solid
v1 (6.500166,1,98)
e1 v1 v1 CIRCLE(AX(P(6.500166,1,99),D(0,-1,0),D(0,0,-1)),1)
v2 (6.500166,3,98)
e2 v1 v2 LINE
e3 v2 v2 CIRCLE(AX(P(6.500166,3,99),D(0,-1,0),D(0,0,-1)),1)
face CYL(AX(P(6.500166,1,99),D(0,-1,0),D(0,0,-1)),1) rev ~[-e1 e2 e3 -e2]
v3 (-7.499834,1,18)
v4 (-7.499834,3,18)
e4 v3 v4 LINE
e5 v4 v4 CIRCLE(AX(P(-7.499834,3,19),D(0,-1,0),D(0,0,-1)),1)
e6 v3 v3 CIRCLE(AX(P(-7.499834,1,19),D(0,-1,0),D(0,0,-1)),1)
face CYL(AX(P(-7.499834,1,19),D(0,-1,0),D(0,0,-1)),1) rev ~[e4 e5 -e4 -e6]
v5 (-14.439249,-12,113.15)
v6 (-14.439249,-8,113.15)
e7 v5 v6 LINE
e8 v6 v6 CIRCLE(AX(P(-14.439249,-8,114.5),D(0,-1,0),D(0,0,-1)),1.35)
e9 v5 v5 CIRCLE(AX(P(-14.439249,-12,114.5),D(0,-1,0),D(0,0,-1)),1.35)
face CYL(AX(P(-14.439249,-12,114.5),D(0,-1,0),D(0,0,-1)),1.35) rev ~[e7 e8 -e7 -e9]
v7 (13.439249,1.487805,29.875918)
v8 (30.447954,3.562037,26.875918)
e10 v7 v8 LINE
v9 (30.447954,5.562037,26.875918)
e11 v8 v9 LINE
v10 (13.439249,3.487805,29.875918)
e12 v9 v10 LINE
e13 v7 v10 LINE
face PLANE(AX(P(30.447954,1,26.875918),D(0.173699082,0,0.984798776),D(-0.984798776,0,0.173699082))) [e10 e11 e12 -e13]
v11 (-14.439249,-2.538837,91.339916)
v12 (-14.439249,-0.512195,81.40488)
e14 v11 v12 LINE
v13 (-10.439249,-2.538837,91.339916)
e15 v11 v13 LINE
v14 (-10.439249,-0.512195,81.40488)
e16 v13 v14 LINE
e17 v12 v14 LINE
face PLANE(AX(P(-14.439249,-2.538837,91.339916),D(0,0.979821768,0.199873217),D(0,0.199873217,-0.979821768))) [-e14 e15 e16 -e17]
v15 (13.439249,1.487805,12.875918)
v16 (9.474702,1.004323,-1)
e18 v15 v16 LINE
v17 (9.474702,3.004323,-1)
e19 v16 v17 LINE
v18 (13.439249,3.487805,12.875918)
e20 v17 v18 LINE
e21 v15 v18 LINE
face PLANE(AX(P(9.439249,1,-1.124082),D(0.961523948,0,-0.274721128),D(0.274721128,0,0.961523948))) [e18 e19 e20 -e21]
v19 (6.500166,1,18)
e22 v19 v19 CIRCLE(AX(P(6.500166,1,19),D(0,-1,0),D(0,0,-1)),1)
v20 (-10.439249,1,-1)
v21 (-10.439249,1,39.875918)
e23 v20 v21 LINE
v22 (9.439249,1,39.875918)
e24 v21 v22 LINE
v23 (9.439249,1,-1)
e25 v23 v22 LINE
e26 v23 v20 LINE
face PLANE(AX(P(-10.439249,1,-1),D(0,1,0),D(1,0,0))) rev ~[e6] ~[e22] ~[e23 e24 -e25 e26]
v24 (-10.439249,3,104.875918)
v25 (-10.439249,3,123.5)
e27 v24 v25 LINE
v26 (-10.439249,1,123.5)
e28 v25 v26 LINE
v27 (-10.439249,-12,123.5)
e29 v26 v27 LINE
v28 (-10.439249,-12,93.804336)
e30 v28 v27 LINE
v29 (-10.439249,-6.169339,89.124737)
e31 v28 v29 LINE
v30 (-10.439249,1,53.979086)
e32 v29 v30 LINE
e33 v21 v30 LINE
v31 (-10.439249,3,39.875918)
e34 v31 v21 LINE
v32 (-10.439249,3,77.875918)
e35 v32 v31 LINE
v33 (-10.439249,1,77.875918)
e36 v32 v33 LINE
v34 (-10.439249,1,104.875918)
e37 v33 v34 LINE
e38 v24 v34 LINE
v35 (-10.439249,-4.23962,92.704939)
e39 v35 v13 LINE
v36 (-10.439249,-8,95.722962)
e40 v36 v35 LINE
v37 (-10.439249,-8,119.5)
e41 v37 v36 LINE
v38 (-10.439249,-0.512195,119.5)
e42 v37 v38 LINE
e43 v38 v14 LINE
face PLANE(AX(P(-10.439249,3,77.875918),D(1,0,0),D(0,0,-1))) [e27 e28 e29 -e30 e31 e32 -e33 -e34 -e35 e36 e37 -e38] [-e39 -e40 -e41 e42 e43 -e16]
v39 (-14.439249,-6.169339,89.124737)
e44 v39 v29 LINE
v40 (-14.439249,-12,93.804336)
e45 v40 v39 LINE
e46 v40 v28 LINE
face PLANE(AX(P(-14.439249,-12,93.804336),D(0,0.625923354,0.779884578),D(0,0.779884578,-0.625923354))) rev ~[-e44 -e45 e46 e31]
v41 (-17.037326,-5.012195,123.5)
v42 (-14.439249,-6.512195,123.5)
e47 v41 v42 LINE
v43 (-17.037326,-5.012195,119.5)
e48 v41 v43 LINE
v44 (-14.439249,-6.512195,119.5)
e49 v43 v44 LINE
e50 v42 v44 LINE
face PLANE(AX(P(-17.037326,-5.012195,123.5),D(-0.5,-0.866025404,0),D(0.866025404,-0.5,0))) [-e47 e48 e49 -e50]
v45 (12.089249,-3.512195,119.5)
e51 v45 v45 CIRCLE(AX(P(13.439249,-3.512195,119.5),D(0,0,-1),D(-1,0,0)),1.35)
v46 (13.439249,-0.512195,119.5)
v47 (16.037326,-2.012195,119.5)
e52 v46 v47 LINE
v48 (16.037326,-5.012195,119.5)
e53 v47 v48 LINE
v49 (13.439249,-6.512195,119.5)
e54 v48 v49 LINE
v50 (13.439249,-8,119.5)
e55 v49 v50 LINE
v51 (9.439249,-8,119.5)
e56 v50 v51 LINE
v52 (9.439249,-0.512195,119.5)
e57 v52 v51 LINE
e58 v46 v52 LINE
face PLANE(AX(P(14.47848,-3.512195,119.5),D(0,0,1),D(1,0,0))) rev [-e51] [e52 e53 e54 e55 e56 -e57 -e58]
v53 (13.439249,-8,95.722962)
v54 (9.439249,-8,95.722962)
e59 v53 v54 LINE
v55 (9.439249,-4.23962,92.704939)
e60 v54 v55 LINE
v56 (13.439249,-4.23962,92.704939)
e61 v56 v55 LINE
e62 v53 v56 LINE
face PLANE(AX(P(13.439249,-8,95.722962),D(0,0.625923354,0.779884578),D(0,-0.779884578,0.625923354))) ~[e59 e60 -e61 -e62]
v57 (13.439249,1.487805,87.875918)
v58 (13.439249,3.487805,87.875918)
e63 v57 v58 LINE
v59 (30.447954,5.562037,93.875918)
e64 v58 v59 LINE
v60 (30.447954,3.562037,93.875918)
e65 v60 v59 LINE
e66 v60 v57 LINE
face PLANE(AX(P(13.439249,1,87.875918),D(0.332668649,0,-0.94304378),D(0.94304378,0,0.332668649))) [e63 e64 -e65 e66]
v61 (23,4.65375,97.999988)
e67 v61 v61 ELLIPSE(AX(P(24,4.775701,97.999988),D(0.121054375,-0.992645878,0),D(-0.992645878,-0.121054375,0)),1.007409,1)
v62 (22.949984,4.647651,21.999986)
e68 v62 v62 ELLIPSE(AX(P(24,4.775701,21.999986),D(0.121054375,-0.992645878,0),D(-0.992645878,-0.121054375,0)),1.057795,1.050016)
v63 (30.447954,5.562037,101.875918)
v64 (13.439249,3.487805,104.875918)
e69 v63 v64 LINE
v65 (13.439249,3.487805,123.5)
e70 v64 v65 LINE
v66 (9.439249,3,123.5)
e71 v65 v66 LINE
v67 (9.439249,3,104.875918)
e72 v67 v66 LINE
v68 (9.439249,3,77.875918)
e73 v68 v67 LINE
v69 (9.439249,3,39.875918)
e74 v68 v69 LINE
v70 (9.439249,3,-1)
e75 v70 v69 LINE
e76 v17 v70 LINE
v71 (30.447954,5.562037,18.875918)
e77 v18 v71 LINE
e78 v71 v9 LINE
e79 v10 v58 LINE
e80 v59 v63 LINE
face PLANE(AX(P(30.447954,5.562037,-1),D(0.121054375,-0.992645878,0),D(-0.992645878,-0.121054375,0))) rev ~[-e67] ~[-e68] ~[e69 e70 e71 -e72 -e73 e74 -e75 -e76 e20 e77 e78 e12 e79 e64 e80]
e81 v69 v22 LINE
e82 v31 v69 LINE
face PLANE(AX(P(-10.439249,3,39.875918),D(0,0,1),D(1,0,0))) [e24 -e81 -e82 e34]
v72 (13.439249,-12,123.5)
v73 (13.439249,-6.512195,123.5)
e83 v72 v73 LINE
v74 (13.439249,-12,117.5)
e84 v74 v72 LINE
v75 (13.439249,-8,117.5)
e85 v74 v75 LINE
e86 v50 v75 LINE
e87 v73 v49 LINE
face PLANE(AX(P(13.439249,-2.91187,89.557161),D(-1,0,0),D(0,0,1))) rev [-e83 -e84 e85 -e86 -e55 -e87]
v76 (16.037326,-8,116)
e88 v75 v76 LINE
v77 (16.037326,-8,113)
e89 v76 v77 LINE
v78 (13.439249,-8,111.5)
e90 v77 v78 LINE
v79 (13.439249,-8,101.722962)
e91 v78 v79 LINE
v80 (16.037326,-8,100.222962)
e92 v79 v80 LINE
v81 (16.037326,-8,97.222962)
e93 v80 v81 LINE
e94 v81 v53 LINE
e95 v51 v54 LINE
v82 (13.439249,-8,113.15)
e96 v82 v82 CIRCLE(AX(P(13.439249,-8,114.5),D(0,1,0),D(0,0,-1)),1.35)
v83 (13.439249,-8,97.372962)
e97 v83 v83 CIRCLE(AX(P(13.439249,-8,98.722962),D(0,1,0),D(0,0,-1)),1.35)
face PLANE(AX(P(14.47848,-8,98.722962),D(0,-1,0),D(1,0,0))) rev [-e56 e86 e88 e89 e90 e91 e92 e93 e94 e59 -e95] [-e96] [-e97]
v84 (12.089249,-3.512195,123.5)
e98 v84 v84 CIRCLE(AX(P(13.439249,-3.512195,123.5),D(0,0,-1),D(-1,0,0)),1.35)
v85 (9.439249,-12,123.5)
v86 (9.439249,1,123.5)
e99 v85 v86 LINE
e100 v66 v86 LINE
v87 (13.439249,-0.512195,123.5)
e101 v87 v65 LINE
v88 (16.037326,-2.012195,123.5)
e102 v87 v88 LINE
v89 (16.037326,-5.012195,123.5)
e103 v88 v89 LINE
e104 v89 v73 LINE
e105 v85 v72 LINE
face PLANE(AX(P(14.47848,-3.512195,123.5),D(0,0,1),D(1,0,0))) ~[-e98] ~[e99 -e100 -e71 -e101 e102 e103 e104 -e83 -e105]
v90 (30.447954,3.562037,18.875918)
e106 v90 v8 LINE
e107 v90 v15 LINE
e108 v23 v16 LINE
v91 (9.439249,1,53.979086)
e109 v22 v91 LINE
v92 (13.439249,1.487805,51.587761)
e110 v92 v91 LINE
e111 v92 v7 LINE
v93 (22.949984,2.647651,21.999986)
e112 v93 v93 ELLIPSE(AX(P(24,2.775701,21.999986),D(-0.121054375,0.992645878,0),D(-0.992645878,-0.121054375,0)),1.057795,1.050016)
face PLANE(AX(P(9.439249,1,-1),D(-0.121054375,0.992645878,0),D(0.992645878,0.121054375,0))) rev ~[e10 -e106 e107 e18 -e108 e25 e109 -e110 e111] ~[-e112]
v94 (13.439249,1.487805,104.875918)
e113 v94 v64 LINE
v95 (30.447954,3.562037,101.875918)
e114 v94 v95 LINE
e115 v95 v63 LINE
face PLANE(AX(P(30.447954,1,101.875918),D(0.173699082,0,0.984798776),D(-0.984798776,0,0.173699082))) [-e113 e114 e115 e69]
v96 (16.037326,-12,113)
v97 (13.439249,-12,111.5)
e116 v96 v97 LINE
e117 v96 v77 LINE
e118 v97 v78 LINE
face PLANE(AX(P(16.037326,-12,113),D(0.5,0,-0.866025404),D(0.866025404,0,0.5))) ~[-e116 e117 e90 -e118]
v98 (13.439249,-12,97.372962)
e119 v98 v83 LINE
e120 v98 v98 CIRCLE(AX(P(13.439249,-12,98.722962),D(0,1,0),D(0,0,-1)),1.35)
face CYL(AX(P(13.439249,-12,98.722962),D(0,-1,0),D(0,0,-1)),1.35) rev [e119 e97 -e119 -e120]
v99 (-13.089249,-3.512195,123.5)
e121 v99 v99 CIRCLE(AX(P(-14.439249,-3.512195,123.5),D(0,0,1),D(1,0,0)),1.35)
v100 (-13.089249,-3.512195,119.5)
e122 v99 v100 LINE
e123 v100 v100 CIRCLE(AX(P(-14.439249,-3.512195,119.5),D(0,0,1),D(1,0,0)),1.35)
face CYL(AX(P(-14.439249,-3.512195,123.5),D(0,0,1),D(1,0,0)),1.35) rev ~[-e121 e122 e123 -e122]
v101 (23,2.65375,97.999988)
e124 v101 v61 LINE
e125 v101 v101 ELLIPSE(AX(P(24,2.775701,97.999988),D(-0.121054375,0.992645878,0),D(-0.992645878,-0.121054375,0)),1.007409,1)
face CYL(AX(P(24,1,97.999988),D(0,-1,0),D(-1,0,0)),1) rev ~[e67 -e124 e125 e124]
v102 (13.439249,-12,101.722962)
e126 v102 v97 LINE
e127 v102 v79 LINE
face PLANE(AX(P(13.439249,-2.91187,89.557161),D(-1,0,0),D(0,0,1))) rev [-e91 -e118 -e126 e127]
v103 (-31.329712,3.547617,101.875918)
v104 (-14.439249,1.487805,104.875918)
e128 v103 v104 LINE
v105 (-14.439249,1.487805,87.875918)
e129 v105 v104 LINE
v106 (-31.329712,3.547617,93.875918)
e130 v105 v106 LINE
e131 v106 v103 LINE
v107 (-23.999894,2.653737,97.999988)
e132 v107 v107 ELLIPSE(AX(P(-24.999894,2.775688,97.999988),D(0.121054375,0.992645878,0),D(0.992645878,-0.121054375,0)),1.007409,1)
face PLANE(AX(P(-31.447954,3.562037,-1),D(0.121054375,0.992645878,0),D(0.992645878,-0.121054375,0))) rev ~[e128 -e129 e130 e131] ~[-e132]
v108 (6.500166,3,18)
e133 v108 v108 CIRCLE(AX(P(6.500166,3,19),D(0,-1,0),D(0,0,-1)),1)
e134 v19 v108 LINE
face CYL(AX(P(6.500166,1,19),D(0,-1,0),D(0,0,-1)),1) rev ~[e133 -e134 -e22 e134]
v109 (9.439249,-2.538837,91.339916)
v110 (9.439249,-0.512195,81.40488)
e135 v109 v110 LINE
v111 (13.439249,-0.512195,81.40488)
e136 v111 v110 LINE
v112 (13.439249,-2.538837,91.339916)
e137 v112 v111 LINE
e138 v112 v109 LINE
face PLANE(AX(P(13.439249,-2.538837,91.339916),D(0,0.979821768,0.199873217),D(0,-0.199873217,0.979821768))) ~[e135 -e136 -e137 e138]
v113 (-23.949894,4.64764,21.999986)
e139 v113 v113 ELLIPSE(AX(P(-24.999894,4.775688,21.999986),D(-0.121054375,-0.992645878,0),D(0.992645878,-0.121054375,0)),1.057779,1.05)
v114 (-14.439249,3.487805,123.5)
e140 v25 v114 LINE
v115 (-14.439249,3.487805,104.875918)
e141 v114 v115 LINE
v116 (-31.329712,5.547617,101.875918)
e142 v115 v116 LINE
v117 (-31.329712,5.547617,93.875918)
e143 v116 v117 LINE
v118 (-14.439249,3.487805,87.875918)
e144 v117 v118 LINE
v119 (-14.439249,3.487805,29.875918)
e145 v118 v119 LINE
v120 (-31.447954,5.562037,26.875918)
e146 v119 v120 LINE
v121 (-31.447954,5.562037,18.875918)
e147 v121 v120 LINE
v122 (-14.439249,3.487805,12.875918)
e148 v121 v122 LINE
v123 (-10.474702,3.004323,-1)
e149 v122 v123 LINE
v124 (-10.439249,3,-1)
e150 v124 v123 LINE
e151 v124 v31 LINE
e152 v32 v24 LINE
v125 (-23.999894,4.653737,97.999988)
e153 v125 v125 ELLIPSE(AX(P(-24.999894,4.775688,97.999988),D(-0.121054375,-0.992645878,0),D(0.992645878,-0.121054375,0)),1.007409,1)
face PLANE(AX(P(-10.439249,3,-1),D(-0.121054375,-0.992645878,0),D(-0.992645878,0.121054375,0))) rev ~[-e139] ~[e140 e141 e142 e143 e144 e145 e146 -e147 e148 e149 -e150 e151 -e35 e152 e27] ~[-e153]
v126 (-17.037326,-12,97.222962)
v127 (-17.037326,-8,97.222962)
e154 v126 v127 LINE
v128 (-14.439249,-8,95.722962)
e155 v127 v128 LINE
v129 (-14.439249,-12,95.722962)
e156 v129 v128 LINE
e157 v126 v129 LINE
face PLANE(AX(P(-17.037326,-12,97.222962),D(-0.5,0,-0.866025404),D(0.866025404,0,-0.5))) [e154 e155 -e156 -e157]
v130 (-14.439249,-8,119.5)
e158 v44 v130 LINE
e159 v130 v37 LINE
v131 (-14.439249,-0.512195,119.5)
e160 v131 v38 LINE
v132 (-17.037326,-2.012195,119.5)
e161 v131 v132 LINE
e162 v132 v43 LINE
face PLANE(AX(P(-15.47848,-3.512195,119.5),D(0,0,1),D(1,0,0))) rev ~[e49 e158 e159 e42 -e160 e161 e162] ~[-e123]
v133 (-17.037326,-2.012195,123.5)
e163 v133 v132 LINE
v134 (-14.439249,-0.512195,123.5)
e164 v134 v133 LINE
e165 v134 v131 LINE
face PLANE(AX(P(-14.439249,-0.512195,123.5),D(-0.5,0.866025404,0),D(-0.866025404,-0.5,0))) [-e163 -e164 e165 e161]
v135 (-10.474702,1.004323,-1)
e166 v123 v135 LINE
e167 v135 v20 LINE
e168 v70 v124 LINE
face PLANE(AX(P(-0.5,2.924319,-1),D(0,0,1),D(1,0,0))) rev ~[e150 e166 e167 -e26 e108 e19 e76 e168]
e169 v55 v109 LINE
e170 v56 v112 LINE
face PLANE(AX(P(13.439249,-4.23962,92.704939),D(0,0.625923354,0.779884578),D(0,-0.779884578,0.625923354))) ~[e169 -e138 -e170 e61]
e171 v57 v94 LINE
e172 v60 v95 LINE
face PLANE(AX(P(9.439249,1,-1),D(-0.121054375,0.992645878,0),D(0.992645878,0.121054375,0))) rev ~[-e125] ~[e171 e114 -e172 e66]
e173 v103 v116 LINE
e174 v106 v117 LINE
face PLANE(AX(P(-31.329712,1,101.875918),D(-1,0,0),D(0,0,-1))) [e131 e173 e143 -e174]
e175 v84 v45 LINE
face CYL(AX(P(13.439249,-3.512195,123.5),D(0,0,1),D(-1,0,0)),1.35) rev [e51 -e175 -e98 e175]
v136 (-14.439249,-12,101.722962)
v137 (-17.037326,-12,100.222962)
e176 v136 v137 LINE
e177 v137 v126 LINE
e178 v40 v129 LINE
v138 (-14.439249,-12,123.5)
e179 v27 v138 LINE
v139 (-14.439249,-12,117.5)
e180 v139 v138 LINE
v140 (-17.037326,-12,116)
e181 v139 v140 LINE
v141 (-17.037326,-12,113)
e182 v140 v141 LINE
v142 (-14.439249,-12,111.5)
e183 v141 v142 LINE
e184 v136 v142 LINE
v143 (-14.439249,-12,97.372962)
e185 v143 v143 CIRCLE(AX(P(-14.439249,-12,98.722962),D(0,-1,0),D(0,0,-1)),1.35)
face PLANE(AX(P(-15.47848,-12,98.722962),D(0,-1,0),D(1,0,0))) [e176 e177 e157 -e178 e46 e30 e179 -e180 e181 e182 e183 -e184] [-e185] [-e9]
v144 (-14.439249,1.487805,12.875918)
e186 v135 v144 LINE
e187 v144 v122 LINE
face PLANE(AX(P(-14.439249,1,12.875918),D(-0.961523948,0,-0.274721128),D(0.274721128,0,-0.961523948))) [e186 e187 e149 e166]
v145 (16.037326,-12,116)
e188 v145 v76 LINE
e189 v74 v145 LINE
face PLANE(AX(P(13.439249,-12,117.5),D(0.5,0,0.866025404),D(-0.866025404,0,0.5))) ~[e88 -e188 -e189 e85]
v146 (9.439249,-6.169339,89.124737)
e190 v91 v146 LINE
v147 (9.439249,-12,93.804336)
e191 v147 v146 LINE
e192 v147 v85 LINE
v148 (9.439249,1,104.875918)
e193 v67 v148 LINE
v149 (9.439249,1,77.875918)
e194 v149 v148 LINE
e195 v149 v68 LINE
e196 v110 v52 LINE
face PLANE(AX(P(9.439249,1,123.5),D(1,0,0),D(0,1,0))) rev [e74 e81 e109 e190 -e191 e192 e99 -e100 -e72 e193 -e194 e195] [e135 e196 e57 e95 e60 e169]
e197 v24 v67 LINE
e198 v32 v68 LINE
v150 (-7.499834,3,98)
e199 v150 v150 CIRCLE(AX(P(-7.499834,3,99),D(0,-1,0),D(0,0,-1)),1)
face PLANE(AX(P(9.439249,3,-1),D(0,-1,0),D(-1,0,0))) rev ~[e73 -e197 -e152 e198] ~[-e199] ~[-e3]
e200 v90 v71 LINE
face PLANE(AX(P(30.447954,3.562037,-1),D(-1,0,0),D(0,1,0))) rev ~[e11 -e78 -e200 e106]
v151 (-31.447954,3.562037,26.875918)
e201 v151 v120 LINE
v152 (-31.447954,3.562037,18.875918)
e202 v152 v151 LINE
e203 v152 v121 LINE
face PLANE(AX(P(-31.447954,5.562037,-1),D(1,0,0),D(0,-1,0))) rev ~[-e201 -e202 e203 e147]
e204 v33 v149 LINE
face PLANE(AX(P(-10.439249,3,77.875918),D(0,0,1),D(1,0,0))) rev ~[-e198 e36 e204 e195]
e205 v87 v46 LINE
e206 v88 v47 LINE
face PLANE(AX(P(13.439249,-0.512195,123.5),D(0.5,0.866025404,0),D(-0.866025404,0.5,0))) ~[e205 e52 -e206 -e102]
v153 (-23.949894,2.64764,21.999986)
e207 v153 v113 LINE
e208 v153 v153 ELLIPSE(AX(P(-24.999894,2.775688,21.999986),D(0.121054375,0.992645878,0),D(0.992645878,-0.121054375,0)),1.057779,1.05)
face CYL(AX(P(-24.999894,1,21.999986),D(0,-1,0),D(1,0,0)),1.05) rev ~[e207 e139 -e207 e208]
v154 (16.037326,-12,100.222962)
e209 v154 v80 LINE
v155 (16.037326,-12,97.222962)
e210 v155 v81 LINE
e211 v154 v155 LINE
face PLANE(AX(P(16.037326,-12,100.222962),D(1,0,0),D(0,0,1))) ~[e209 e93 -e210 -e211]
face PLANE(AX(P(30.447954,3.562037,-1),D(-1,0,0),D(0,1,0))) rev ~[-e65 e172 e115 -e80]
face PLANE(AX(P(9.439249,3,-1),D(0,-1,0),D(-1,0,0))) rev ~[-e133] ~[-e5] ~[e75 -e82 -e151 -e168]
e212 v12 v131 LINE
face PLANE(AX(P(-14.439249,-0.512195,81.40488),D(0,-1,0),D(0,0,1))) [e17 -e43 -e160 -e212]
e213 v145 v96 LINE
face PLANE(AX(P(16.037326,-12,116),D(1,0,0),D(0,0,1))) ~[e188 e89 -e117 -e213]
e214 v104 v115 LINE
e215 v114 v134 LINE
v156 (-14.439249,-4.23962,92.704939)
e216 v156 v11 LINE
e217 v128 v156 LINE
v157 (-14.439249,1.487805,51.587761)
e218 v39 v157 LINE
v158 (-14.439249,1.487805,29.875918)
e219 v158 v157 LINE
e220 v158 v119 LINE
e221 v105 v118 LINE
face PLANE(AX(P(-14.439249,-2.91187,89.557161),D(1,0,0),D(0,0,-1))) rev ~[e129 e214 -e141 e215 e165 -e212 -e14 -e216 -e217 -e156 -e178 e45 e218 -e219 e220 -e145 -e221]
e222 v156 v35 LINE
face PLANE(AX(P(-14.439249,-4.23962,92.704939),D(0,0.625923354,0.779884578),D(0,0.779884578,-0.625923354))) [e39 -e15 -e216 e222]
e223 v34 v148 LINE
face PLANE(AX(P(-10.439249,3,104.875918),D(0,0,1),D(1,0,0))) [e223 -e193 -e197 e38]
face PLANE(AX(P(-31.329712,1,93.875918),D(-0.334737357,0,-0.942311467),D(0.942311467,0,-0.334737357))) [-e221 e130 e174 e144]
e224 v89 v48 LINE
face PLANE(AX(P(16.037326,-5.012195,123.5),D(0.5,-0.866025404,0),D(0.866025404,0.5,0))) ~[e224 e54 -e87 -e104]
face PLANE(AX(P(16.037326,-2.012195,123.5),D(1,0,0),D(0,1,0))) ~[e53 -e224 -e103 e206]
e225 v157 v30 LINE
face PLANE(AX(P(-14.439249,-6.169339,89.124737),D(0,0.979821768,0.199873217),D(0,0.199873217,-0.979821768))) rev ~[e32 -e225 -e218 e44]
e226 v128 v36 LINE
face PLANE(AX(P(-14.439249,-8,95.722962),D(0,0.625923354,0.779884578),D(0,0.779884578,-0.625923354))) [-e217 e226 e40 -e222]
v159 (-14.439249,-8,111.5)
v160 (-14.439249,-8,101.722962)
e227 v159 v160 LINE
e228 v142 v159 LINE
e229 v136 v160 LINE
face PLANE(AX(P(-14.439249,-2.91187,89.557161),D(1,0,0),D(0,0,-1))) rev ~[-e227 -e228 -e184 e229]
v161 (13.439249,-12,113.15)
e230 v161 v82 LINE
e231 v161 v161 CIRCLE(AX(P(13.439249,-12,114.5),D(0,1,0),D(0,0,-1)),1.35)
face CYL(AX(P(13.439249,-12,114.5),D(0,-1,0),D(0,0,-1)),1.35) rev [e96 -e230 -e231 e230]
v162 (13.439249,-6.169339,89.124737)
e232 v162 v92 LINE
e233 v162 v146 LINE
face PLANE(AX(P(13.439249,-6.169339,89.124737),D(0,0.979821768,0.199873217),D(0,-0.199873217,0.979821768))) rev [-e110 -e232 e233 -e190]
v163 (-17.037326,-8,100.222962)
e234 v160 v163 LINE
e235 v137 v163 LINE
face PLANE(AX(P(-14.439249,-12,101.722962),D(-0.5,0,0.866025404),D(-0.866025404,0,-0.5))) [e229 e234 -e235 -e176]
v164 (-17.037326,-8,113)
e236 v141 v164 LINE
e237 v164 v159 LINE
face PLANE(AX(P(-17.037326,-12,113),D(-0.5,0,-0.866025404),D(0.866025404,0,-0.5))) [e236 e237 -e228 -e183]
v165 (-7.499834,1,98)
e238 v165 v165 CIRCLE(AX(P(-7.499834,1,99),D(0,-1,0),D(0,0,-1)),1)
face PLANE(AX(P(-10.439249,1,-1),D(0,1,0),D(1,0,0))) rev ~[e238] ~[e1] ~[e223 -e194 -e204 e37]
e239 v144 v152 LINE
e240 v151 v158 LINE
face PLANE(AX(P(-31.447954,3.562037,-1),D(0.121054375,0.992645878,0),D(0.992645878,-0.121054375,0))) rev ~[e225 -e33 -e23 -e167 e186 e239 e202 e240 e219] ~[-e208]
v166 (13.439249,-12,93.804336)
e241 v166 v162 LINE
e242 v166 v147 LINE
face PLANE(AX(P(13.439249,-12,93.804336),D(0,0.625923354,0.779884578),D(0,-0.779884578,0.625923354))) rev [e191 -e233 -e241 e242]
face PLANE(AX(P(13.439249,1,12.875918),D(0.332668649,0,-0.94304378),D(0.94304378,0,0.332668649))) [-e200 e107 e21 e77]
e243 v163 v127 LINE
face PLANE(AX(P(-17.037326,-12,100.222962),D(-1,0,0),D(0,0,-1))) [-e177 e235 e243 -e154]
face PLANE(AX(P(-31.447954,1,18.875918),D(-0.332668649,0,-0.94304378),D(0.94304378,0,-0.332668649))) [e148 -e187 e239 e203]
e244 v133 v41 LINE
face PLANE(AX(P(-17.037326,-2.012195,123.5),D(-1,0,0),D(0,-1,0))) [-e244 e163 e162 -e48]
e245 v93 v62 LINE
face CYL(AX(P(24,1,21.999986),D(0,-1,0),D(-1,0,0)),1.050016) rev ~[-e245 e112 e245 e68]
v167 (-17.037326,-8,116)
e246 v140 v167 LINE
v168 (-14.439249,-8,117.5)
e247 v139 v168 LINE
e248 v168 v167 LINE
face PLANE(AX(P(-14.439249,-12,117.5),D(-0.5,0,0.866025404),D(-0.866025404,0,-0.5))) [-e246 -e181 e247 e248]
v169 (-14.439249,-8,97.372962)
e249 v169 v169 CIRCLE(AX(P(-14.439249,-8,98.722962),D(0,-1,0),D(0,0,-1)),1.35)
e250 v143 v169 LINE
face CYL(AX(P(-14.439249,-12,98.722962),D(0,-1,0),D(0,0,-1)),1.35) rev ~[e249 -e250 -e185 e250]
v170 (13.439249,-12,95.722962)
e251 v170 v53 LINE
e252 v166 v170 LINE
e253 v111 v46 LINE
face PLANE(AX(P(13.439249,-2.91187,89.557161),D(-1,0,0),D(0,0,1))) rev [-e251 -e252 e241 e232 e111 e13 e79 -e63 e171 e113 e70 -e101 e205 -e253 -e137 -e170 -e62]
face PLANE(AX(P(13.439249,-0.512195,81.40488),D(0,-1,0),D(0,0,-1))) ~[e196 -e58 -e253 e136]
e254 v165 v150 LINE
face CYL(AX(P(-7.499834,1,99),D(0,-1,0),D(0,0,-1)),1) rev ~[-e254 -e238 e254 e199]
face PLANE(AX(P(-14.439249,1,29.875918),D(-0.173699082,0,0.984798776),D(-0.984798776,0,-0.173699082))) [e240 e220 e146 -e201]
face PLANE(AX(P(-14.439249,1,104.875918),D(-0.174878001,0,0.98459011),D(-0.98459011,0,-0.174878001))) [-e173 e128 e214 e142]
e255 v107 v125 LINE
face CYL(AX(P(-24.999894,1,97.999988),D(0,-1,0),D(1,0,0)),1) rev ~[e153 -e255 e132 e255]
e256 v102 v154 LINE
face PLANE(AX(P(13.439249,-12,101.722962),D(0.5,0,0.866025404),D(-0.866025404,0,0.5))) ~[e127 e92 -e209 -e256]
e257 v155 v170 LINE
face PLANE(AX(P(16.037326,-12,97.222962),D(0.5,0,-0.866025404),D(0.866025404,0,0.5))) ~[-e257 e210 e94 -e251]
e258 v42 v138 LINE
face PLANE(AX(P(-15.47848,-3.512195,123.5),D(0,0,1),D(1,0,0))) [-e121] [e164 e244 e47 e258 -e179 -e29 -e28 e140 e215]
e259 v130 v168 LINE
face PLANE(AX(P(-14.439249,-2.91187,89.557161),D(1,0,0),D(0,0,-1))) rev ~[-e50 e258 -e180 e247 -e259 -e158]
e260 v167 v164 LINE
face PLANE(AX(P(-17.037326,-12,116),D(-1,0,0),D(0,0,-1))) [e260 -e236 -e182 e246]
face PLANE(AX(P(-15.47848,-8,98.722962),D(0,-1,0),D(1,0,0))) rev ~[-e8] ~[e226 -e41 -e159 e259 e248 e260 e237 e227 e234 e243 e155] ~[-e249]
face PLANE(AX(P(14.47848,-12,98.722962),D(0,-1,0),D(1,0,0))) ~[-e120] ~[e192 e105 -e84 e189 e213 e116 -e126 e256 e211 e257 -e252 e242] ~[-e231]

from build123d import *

# Parameters (mm, degrees)
SKETCH_1_W          = 2
SKETCH_1_H          = 2
EXTRUDE_1_DEPTH     = 3
EXTRUDE_2_DEPTH     = 124.5
SKETCH_3_W          = 6.103798984
SKETCH_3_H          = 7.216344691
CUT_EXTRUDE_1_DEPTH = 100
SKETCH_4_R          = 1
SKETCH_4_R_2        = 1.050016024
SKETCH_4_R_3        = 1.05
CUT_EXTRUDE_2_DEPTH = 100
SKETCH_6_W          = 76.933972046
SKETCH_6_H          = 147.245046369
CUT_EXTRUDE_3_DEPTH = 100
EXTRUDE_3_DEPTH     = 2
EXTRUDE_4_DEPTH     = 4
SKETCH_9_W          = 19.878498858
SKETCH_9_H          = 18.624082489
CUT_EXTRUDE_4_DEPTH = 4
SKETCH_10_W         = 19.878498858
SKETCH_10_H         = 38
CUT_EXTRUDE_5_DEPTH = 4
EXTRUDE_6_DEPTH     = 4
EXTRUDE_7_DEPTH     = 4
SKETCH_14_R         = 1.35
CUT_EXTRUDE_7_DEPTH = 4
SKETCH_15_R         = 1.35
CUT_EXTRUDE_8_DEPTH = 4


with BuildPart() as part:
    # 草图1 → 凸台-拉伸1 (new body)
    with BuildSketch(Plane(origin=(0, 0, 0), x_dir=(1, 0, 0), z_dir=(0, 1, 0))):
        Rectangle(SKETCH_1_W, SKETCH_1_H)
    extrude(amount=EXTRUDE_1_DEPTH)

    # 草图2 → 凸台-拉伸2 (add)
    with BuildSketch(Plane(origin=(0, 0, -1), x_dir=(-1, 0, 0), z_dir=(0, 0, -1))):
        Polygon((-9.439249429, 3), (10.439249429, 3), (31.447953726, 5.562037109), (31.447953726, 3.562037109), (10.439249429, 1), (-9.439249429, 1), (-30.447953726, 3.562037109), (-30.447953726, 5.562037109), align=None)
    extrude(amount=-EXTRUDE_2_DEPTH)

    # 草图3 → 切除-拉伸1 (cut)
    with BuildSketch(Plane.XZ.offset(-1)):
        with Locations((-0.416327581, 1.421882079)):
            Rectangle(SKETCH_3_W, SKETCH_3_H)
    extrude(amount=CUT_EXTRUDE_1_DEPTH, mode=Mode.SUBTRACT)

    # 草图4 → 切除-拉伸2 (cut)
    with BuildSketch(Plane.XZ.offset(-1)):
        with Locations(Location((24, 97.999988001, 0), (0, 0, 180))):
            Circle(SKETCH_4_R)
        with Locations(Location((6.500166, 99, 0), (0, 0, 270))):
            Circle(SKETCH_4_R)
        with Locations(Location((-7.499834, 99, 0), (0, 0, 270))):
            Circle(SKETCH_4_R)
        with Locations((-24.999894002, 97.999988001)):
            Circle(SKETCH_4_R)
        with Locations(Location((6.500166, 19, 0), (0, 0, 270))):
            Circle(SKETCH_4_R)
        with Locations(Location((-7.499834, 19, 0), (0, 0, 270))):
            Circle(SKETCH_4_R)
        with Locations(Location((24, 21.999986001, 0), (0, 0, 180))):
            Circle(SKETCH_4_R_2)
        with Locations((-24.999894002, 21.999986001)):
            Circle(SKETCH_4_R_3)
    extrude(amount=-CUT_EXTRUDE_2_DEPTH, mode=Mode.SUBTRACT)

    # 草图6 → 切除-拉伸3 (cut)
    with BuildSketch(Plane.XZ.offset(-1)):
        with Locations((-0.585190424, 56.41539679)):
            Rectangle(SKETCH_6_W, SKETCH_6_H)
        Polygon((-31.447953726, 18.875917511), (-14.439249429, 12.875917511), (-10.439249429, -1.124082489), (9.439249429, -1.124082489), (13.439249429, 12.875917511), (30.447953726, 18.875917511), (30.447953726, 26.875917511), (13.439249429, 29.875917511), (13.439249429, 87.875917511), (30.447953726, 93.875917511), (30.447953726, 101.875917511), (13.439249429, 104.875917511), (13.439249429, 123.5), (-14.439249429, 123.5), (-14.439249429, 104.875917511), (-31.329711994, 101.875917511), (-31.329711994, 93.875917511), (-14.439249429, 87.875917511), (-14.439249429, 29.875917511), (-31.447953726, 26.875917511), align=None, mode=Mode.SUBTRACT)
    extrude(amount=-CUT_EXTRUDE_3_DEPTH, mode=Mode.SUBTRACT)

    # 草图7 → 凸台-拉伸3 (add)
    with BuildSketch(Plane.XY.offset(123.5)):
        Polygon((-14.439249429, 1.487804878), (-10.439249429, 1), (-10.439249429, -12), (-14.439249429, -12), (-14.439249429, 1), align=None)
    extrude_3 = extrude(amount=-EXTRUDE_3_DEPTH)

    # 草图8 → 凸台-拉伸4 (add)
    with BuildSketch(Plane.ZY.offset(14.439249429)):
        Polygon((51.587761239, 1.487804878), (121.5, 1.487804878), (121.5, -12), (93.804336039, -12), (89.124737206, -6.169338891), align=None)
        Polygon((81.404880427, -0.512195122), (119.5, -0.512195122), (119.5, -8), (106.737581435, -8), (95.722961725, -8), (92.704938742, -4.239620134), (91.339916161, -2.53883672), align=None, mode=Mode.SUBTRACT)
    extrude_4 = extrude(amount=-EXTRUDE_4_DEPTH)

    # 草图9 → 切除-拉伸4 (cut)
    with BuildSketch(Plane(origin=(0, 3, 0), x_dir=(1, 0, 0), z_dir=(0, 1, 0))):
        with Locations((-0.5, -114.187958756)):
            Rectangle(SKETCH_9_W, SKETCH_9_H)
    cut_extrude_4 = extrude(amount=-CUT_EXTRUDE_4_DEPTH, mode=Mode.SUBTRACT)

    # 草图10 → 切除-拉伸5 (cut)
    with BuildSketch(Plane(origin=(0, 3, 0), x_dir=(1, 0, 0), z_dir=(0, 1, 0))):
        with Locations((-0.5, -58.875917511)):
            Rectangle(SKETCH_10_W, SKETCH_10_H)
    cut_extrude_5 = extrude(amount=-CUT_EXTRUDE_5_DEPTH, mode=Mode.SUBTRACT)

    # 草图11 → 凸台-拉伸6 (add)
    with BuildSketch(Plane.XZ.offset(12)):
        Polygon((-17.03732564, 97.222961725), (-14.439249429, 95.722961725), (-14.439249429, 101.722961725), (-17.03732564, 100.222961725), align=None)
        Polygon((-17.03732564, 113), (-14.439249429, 111.5), (-14.439249429, 117.5), (-17.03732564, 116), align=None)
    extrude_6 = extrude(amount=-EXTRUDE_6_DEPTH)

    # 草图13 → 凸台-拉伸7 (add)
    with BuildSketch(Plane.XY.offset(123.5)):
        Polygon((-14.439249429, -6.512195122), (-14.439249429, -0.512195122), (-17.03732564, -2.012195122), (-17.03732564, -5.012195122), align=None)
    extrude_7 = extrude(amount=-EXTRUDE_7_DEPTH)

    # 草图14 → 切除-拉伸7 (cut)
    with BuildSketch(Plane.XY.offset(123.5)):
        with Locations((-14.439249429, -3.512195122)):
            Circle(SKETCH_14_R)
    cut_extrude_7 = extrude(amount=-CUT_EXTRUDE_7_DEPTH, mode=Mode.SUBTRACT)

    # 草图15 → 切除-拉伸8 (cut)
    with BuildSketch(Plane.XZ.offset(12)):
        with Locations(Location((-14.439249429, 98.722961725, 0), (0, 0, 270))):
            Circle(SKETCH_15_R)
        with Locations(Location((-14.439249429, 114.5, 0), (0, 0, 270))):
            Circle(SKETCH_15_R)
    cut_extrude_8 = extrude(amount=-CUT_EXTRUDE_8_DEPTH, mode=Mode.SUBTRACT)

    # 镜向1: 凸台-拉伸3, 凸台-拉伸4, 切除-拉伸4, 切除-拉伸5, 凸台-拉伸6, 凸台-拉伸7, 切除-拉伸7, 切除-拉伸8 across plane
    add(extrude_3.mirror(Plane.ZY.offset(0.5)))
    add(extrude_4.mirror(Plane.ZY.offset(0.5)))
    add(cut_extrude_4.mirror(Plane.ZY.offset(0.5)), mode=Mode.SUBTRACT)
    add(cut_extrude_5.mirror(Plane.ZY.offset(0.5)), mode=Mode.SUBTRACT)
    add(extrude_6.mirror(Plane.ZY.offset(0.5)))
    add(extrude_7.mirror(Plane.ZY.offset(0.5)))
    add(cut_extrude_7.mirror(Plane.ZY.offset(0.5)), mode=Mode.SUBTRACT)
    add(cut_extrude_8.mirror(Plane.ZY.offset(0.5)), mode=Mode.SUBTRACT)


solid = part.part
